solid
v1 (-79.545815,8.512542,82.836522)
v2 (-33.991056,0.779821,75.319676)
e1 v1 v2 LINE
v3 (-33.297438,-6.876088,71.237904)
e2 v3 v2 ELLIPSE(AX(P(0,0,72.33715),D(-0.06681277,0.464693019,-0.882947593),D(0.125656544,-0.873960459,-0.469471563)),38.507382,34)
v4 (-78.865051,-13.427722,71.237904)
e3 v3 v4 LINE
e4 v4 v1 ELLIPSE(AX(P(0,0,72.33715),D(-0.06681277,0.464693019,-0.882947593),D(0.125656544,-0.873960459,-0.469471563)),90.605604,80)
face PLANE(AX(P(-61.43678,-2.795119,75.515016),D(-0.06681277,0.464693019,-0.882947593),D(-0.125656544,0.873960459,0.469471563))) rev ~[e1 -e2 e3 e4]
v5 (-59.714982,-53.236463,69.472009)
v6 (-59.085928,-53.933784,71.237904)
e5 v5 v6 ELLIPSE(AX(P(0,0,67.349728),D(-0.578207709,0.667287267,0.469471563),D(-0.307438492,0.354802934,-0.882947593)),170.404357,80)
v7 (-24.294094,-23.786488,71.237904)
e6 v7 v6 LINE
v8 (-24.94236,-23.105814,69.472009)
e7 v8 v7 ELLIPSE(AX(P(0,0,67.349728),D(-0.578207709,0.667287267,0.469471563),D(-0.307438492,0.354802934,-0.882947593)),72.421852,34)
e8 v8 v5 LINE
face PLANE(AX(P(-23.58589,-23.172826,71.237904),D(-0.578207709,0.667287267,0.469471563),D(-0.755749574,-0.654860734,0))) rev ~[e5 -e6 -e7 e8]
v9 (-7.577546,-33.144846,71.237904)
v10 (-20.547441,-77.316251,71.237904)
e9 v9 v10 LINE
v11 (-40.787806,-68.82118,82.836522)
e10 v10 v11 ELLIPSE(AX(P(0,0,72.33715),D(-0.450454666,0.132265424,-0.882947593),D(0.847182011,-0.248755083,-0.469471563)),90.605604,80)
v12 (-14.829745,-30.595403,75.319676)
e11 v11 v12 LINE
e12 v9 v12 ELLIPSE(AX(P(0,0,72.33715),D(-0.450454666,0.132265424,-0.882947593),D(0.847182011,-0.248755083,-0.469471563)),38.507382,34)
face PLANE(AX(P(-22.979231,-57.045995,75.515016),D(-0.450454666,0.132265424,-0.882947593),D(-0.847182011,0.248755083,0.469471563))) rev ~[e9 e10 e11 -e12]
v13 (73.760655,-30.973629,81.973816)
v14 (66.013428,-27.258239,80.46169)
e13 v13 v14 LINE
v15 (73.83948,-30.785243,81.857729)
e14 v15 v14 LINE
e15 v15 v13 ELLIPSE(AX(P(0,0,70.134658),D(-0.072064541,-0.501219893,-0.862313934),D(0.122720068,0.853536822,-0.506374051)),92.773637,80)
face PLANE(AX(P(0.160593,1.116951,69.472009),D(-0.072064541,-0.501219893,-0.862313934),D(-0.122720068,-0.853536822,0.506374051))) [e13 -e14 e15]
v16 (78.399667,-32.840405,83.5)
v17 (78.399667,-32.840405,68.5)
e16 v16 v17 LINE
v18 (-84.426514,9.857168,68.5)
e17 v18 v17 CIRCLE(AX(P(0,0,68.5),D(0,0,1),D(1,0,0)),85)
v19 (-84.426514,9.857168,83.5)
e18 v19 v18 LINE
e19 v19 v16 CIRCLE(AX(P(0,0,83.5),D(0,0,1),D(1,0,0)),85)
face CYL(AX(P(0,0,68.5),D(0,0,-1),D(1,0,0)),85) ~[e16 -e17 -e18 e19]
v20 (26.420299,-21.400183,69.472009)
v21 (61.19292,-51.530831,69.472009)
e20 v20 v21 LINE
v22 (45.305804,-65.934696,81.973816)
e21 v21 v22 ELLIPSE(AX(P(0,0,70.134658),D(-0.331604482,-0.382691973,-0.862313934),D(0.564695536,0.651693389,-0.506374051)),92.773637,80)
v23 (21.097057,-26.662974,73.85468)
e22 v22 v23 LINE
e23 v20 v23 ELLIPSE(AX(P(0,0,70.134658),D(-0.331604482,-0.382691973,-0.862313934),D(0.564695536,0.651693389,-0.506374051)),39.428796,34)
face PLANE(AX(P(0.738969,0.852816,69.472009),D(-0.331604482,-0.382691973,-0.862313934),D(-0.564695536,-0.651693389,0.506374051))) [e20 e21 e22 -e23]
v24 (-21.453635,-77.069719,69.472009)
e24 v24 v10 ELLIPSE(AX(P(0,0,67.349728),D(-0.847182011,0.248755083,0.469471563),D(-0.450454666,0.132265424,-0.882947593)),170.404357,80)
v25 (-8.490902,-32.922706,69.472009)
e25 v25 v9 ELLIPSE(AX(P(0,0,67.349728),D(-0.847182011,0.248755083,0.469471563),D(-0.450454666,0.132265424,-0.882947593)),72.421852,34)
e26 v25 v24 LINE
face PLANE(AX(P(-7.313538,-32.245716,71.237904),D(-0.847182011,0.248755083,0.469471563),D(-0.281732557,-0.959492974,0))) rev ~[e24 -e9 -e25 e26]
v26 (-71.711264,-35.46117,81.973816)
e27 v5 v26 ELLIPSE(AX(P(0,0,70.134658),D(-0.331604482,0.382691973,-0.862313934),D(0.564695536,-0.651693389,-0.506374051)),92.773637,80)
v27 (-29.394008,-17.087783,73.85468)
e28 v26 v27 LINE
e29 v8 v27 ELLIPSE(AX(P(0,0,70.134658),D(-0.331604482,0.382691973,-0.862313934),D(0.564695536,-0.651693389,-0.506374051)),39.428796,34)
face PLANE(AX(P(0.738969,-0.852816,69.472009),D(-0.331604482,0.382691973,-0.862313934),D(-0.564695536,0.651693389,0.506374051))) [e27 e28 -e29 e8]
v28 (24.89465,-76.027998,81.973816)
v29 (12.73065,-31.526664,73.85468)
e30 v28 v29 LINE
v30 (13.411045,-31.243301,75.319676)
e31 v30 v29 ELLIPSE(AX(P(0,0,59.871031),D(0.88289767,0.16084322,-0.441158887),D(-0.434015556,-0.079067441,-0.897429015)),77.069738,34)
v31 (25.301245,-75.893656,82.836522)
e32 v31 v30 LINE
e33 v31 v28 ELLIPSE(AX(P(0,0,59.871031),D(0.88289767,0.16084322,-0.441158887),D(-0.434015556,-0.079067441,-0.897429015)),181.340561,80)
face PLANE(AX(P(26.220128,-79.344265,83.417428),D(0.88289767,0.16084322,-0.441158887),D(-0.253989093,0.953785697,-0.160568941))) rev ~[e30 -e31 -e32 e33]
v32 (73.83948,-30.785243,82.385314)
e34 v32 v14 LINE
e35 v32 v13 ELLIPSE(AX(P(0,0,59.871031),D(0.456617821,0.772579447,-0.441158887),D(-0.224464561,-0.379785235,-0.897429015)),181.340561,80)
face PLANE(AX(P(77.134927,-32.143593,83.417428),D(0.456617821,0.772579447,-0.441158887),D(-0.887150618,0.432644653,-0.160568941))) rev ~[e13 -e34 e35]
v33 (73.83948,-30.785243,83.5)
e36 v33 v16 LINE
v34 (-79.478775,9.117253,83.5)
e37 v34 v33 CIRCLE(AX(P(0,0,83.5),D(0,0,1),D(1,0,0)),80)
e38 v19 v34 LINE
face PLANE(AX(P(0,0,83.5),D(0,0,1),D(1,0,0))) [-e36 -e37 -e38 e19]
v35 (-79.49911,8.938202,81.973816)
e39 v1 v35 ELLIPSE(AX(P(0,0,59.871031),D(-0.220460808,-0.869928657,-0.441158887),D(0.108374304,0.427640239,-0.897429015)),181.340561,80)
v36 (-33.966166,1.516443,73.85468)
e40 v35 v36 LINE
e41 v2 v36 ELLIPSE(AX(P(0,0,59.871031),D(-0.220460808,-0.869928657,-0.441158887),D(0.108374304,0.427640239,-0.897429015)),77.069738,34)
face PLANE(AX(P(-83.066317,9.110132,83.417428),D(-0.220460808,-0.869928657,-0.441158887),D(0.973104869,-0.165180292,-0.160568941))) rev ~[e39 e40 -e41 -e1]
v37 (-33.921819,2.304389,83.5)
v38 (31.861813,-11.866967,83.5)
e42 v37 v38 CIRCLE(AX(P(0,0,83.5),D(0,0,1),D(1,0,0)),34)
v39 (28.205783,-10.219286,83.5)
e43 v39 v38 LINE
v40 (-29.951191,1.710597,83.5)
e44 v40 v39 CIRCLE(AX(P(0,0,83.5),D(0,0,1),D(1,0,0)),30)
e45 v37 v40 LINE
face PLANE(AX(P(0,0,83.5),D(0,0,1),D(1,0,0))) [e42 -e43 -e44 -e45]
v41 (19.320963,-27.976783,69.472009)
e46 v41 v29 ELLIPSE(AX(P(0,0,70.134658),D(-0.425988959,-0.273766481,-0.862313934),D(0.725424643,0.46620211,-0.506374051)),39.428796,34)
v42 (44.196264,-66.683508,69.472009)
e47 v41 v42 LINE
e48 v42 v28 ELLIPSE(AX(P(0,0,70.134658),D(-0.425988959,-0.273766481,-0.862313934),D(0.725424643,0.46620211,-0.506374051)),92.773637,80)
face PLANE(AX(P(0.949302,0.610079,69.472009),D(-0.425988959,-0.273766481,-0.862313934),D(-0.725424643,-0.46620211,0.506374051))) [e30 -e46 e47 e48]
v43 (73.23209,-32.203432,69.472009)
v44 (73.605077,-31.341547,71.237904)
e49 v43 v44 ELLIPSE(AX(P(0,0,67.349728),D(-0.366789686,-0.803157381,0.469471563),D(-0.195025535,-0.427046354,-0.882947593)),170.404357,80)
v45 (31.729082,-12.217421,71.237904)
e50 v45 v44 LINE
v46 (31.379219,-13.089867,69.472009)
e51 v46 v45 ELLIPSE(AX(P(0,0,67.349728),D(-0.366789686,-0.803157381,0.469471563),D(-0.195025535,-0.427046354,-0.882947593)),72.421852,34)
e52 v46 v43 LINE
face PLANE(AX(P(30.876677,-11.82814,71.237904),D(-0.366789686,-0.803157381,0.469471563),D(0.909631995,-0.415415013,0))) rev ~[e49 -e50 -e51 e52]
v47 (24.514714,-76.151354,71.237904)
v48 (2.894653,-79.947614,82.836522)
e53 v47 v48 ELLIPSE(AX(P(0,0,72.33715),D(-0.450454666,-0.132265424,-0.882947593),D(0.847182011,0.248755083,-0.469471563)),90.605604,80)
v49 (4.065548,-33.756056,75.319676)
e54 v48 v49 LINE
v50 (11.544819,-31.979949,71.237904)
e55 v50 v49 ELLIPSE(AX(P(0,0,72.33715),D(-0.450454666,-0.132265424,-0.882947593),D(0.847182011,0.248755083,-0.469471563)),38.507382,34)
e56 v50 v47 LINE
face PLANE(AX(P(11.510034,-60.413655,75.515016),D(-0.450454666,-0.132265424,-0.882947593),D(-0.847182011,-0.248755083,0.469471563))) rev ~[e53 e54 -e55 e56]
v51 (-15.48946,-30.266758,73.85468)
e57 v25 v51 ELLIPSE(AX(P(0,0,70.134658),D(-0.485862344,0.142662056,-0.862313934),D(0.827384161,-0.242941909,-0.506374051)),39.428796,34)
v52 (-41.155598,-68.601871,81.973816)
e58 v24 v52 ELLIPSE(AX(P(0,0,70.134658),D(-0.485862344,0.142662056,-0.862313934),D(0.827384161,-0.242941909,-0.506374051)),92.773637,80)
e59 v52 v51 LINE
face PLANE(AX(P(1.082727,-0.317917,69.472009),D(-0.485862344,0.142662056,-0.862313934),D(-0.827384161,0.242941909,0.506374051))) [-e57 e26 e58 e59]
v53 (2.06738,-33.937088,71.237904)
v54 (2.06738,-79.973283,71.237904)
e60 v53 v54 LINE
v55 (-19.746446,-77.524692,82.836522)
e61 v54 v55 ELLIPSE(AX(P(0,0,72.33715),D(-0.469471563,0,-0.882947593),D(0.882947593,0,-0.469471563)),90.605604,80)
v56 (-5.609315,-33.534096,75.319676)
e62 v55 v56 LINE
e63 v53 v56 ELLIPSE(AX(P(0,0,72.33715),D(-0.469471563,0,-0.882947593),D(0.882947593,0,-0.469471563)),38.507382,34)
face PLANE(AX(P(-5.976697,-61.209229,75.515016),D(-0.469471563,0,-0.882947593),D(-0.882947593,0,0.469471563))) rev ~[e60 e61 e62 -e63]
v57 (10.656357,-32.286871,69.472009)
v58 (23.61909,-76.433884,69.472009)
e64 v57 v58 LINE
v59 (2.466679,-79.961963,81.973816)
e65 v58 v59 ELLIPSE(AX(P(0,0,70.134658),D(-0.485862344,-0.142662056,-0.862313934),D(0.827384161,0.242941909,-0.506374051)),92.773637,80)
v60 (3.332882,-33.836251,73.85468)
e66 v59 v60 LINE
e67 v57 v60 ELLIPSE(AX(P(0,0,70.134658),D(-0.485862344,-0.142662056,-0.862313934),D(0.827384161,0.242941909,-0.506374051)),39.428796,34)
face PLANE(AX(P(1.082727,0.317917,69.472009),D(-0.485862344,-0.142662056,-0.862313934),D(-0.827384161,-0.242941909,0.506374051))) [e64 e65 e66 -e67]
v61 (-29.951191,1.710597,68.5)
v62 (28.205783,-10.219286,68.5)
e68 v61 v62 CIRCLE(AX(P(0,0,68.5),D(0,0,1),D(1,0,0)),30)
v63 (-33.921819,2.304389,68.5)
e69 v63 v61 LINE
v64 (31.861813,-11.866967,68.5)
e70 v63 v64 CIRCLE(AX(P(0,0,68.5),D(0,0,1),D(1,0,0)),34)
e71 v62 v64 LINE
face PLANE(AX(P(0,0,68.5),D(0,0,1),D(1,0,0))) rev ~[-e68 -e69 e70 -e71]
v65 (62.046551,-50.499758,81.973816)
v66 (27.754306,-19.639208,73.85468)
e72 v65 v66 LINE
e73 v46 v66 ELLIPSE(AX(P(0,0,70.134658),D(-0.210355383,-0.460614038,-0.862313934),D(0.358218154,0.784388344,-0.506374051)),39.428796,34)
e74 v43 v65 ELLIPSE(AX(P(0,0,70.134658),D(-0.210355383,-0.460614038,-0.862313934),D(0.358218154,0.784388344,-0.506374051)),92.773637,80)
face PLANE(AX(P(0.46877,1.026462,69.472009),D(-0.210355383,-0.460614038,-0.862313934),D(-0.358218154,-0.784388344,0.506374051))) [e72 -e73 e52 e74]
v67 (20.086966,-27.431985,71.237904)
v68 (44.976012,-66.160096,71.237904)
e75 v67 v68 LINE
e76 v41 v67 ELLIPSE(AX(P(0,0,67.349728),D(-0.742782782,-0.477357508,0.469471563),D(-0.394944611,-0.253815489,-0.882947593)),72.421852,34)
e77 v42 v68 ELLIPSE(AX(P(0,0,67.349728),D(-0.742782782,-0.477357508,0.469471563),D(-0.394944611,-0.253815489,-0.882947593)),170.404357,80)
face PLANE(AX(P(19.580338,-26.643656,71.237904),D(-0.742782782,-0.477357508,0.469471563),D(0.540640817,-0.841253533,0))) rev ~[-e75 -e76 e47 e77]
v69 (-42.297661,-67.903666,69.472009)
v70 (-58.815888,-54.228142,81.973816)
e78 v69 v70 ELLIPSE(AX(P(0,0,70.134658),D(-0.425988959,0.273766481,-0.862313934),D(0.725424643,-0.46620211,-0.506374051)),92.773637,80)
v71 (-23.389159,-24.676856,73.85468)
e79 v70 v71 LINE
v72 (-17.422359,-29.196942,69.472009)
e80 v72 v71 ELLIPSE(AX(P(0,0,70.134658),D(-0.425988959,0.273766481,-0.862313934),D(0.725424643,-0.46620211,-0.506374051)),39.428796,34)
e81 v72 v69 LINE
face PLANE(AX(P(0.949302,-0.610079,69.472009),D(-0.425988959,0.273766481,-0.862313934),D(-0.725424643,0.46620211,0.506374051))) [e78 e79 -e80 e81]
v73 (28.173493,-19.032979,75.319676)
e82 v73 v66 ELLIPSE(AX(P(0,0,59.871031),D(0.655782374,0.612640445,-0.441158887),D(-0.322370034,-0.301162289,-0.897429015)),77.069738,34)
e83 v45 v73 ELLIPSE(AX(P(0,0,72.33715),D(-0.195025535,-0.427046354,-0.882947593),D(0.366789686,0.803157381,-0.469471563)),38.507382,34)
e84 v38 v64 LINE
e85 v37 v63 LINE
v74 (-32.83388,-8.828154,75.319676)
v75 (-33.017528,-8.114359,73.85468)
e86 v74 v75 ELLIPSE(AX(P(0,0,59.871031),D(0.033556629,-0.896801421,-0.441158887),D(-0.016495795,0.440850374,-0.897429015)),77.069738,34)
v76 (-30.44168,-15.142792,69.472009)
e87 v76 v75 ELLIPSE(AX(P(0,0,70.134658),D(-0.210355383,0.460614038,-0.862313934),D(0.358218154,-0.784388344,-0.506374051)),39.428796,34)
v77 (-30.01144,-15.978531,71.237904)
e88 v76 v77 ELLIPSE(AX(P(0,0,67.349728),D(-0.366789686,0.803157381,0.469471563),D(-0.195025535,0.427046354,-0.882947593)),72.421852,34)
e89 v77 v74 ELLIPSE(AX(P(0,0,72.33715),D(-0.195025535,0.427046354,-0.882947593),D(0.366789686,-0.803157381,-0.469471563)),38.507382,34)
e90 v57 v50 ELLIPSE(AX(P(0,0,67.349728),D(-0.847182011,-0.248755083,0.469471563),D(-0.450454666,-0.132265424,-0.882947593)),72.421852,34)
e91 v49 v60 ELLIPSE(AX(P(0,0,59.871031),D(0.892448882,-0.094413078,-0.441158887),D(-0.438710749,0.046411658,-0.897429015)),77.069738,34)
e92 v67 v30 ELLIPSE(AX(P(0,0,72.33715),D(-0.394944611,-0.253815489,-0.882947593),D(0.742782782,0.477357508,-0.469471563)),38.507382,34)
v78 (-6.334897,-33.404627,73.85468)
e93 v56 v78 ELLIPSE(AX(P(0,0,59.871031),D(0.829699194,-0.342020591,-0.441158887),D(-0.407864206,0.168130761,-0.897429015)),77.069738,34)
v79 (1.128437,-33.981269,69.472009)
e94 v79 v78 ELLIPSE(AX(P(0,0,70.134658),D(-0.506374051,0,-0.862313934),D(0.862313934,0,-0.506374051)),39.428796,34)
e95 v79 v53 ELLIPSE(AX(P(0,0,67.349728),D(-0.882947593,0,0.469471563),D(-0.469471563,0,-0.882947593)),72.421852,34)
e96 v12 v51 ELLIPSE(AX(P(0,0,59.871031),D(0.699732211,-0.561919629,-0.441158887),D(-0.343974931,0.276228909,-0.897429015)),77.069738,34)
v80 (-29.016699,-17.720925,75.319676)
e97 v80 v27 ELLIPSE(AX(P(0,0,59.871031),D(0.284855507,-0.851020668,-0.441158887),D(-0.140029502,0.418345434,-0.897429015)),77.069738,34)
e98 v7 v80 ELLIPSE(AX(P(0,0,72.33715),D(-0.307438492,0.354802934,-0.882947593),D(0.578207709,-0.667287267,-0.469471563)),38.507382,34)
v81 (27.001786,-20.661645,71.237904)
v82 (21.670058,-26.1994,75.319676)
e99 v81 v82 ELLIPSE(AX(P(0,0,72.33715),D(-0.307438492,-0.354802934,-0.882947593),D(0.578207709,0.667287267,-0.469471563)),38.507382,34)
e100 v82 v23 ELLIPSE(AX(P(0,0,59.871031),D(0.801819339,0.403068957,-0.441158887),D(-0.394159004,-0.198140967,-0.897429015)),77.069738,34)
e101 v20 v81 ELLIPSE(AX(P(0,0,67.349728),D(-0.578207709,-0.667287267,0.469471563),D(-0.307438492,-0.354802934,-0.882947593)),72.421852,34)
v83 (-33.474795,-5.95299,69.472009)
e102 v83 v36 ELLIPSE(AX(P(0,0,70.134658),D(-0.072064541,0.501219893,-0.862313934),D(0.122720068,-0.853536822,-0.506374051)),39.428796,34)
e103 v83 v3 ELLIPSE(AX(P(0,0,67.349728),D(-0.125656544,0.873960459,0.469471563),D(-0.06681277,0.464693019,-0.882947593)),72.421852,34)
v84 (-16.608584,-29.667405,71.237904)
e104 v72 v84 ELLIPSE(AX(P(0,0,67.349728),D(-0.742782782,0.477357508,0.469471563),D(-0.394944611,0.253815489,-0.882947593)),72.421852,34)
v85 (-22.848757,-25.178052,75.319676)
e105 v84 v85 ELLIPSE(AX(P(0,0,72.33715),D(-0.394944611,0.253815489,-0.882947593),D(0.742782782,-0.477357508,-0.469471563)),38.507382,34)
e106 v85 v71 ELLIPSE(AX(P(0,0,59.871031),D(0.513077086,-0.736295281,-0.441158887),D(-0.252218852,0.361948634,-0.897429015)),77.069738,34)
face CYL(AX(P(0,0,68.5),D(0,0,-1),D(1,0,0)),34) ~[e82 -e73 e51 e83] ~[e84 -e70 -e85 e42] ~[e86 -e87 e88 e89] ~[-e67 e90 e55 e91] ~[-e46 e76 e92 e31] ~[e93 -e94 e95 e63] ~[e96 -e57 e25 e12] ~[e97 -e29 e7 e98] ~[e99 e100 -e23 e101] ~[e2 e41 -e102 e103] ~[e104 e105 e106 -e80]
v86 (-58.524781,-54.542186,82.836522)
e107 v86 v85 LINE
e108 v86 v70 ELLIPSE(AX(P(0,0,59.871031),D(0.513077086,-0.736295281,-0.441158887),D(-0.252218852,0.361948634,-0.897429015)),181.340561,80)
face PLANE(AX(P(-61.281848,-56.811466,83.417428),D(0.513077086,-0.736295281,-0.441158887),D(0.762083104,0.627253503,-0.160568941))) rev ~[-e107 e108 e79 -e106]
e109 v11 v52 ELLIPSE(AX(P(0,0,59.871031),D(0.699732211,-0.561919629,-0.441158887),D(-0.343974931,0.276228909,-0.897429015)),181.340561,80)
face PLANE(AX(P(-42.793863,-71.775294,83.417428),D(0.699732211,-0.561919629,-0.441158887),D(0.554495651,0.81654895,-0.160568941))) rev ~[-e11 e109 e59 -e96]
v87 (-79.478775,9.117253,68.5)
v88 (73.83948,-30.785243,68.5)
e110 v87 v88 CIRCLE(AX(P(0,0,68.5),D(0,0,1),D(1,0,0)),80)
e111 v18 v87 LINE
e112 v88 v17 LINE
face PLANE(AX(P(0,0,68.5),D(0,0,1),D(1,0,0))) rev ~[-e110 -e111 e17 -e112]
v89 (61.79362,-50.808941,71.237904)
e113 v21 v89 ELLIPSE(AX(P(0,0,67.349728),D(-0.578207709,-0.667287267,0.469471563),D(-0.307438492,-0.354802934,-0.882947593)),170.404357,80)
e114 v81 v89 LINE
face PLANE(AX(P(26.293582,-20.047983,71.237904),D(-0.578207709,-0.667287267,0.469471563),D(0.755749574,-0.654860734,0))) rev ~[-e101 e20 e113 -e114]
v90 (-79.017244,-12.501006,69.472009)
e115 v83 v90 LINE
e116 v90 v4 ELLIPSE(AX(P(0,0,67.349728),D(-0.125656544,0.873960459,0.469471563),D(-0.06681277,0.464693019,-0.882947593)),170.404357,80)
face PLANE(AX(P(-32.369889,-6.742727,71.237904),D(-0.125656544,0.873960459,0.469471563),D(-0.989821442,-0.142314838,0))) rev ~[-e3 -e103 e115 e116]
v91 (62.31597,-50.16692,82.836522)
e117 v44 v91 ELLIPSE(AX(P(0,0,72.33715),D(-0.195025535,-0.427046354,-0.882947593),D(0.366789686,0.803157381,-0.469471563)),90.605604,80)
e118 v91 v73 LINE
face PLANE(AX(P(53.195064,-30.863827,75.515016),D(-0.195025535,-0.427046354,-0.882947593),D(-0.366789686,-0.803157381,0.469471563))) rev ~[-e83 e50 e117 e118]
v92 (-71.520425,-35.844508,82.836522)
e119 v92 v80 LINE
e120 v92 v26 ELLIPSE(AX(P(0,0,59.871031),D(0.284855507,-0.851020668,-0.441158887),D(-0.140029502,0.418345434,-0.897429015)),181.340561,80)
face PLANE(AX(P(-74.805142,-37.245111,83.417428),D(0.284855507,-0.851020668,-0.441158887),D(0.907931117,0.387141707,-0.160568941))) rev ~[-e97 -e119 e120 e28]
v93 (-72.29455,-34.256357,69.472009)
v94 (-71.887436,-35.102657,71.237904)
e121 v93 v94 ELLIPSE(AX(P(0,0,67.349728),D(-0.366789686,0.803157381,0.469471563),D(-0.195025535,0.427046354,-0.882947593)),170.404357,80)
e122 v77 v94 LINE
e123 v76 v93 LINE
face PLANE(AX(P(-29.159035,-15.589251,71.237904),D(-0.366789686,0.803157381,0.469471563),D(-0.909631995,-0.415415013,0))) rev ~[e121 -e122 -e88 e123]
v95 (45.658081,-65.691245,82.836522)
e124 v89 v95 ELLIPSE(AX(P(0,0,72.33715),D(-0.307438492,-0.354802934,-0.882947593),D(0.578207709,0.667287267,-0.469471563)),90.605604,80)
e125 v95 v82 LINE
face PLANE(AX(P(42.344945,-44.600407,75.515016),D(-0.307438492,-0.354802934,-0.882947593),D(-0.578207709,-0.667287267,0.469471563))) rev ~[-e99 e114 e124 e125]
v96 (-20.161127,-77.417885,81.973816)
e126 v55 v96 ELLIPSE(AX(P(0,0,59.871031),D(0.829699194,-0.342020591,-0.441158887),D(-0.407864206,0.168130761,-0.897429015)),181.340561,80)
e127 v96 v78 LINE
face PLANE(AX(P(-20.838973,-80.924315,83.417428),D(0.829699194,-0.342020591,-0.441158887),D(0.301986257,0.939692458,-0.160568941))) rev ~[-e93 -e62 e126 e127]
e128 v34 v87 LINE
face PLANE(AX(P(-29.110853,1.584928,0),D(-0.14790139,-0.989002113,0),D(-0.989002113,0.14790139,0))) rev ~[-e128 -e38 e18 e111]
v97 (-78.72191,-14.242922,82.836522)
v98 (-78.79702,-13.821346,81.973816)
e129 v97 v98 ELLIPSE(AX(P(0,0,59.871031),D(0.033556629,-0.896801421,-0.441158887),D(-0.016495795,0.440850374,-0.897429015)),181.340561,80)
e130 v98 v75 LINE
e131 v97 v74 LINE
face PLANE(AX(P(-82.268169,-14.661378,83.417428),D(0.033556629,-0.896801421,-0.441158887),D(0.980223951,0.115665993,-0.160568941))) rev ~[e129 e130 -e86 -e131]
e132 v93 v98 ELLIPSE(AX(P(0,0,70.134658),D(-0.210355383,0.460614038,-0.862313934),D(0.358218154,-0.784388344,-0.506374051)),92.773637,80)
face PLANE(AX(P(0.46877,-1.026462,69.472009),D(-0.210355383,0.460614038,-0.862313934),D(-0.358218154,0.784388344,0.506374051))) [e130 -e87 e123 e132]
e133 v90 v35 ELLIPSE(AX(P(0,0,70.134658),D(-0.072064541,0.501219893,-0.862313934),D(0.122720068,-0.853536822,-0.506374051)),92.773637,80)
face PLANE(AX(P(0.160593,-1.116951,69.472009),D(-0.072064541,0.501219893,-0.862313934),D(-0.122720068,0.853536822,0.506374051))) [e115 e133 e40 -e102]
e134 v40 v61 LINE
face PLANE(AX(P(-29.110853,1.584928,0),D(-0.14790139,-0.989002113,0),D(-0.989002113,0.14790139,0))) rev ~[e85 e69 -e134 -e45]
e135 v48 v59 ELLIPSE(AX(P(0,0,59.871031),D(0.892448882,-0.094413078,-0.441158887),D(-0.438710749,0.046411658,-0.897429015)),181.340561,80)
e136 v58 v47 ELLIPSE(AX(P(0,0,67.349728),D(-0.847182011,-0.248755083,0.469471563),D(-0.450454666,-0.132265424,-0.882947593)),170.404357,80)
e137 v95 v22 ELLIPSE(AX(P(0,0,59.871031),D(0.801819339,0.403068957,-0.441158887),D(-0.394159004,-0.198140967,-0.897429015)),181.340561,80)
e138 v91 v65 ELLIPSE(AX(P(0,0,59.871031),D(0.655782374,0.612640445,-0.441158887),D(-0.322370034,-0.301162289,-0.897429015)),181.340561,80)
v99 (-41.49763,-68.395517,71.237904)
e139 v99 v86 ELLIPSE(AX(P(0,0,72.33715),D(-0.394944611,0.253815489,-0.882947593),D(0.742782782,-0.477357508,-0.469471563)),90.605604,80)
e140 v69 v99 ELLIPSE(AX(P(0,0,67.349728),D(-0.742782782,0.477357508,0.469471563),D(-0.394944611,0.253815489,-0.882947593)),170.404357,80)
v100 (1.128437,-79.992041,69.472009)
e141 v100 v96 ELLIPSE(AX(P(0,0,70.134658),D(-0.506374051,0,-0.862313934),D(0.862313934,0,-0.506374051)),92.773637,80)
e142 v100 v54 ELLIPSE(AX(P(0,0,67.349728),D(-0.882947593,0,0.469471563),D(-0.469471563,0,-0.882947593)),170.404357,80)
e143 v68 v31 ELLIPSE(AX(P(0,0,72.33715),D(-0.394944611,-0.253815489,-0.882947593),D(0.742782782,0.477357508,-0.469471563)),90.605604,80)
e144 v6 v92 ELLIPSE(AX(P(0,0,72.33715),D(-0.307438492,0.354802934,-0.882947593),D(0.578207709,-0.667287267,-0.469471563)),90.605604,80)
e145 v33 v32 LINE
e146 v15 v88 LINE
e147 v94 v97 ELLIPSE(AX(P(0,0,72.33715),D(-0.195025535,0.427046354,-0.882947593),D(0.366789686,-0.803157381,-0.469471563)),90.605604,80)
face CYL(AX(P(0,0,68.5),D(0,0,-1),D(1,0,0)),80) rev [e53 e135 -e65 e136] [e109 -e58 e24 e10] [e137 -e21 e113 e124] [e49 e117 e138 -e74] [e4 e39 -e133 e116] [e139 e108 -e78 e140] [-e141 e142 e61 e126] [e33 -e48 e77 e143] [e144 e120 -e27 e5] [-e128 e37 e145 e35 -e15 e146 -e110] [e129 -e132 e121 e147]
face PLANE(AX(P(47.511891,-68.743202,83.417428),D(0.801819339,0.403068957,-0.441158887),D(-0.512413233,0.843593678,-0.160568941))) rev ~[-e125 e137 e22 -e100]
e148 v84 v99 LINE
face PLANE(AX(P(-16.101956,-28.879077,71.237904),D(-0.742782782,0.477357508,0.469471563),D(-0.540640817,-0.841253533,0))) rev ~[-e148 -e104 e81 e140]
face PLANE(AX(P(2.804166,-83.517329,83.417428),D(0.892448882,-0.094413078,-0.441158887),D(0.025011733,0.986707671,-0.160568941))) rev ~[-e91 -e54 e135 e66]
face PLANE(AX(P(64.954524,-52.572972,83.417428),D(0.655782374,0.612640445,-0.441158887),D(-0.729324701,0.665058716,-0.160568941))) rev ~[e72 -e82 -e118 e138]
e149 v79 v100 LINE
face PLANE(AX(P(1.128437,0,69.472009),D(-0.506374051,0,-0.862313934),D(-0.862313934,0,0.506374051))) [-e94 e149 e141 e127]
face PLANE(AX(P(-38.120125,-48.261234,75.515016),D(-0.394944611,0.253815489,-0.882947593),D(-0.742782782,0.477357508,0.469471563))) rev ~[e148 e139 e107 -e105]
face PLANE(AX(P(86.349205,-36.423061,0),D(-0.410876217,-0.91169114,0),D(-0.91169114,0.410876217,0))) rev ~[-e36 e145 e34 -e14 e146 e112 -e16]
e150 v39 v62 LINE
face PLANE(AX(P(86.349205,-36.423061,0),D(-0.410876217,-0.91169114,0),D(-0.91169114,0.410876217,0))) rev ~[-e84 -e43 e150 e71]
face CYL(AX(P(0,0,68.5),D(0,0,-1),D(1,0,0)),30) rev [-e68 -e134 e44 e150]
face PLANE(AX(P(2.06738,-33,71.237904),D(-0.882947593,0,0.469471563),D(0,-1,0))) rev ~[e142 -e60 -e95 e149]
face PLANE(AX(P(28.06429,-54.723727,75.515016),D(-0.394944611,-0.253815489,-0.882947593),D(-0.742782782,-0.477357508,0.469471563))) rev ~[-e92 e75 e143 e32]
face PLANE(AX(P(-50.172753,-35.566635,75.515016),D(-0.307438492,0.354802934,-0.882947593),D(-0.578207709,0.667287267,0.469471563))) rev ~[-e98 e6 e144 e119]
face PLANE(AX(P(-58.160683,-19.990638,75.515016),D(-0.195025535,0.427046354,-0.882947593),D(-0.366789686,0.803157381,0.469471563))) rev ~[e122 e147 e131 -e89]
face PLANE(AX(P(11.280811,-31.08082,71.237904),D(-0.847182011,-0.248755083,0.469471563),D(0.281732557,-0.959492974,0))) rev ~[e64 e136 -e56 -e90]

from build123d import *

# Parameters (mm, degrees)
PAD036_DEPTH              = 200
TUBE014_R                 = 100
TUBE014_R_2               = 80
TUBE014_DEPTH             = 200
PAD026_DEPTH              = 100
PAD027_DEPTH              = 2
COMMON011_PLACEMENT_ANGLE = 28
ARRAY011_COUNT            = 22
ARRAY011_PLACEMENT_ANGLE  = 180
TUBE023_R                 = 85
TUBE023_R_2               = 80
TUBE023_DEPTH             = 15
TUBE024_R                 = 34
TUBE024_R_2               = 30
TUBE024_DEPTH             = 15


with BuildPart() as body037:
    # Sketch036 → Pad036 (new body)
    with BuildSketch(Plane.XY):
        Polygon((-29.110853, 1.584928), (-96.197479, 11.61747), (-96.197479, -126.516327), (86.349205, -133.978043), (86.349205, -36.423061), (25.978256, -9.215396), align=None)
    extrude(amount=PAD036_DEPTH)


with BuildPart() as tube014:
    # Tube014 → Tube014 (new body)
    with BuildSketch(Plane.XY):
        Circle(TUBE014_R)
        Circle(TUBE014_R_2, mode=Mode.SUBTRACT)
    extrude(amount=TUBE014_DEPTH)


with BuildPart() as body027:
    # Sketch026 → Pad026 (new body)
    with BuildSketch(Plane.XZ):
        Polygon((0, 0), (0, 2), (26, 0.9), (26, 0), align=None)
    extrude(amount=PAD026_DEPTH)


with BuildPart() as body027_1:
    # Body027 placement: moved
    add(body027.part.moved(Location((-5, 0, 5))))


with BuildPart() as cut003:
    # Sketch027 → Pad027 (new body)
    with BuildSketch(Plane.XY):
        Polygon((0, 0), (0, -52), (25.94305, -47.924315), (8.5, 0), align=None)
    extrude(amount=PAD027_DEPTH)


with BuildPart() as cut003_1:
    # Body028 placement: moved
    add(cut003.part.moved(Location((-5, -33, 5))))

    # Common011: intersect Body027
    add(body027_1.part, mode=Mode.INTERSECT)


with BuildPart() as cut003_2:
    # Common011 placement: moved
    add(cut003_1.part.rotate(Axis((0, 0, 0), (0, 1, 0)), COMMON011_PLACEMENT_ANGLE))

    # Array011: Cut003 ×22 about axis
    array011_axis = Axis((0, 0, 0), (0, 0, 1))


with BuildPart() as cut003_3:
    add(cut003_2.part)
    for i in range(1, ARRAY011_COUNT):
        add(cut003_2.part.rotate(array011_axis, i * 360 / ARRAY011_COUNT))


with BuildPart() as cut003_4:
    # Array011 placement: moved
    add(cut003_3.part.moved(Location((0, 0, 78))).rotate(Axis((0, 0, 78), (0, 1, 0)), ARRAY011_PLACEMENT_ANGLE))

    # Cut003: cut Tube014
    add(tube014.part, mode=Mode.SUBTRACT)


with BuildPart() as tube023:
    # Tube023 → Tube023 (new body)
    with BuildSketch(Plane.XY.offset(68.5)):
        Circle(TUBE023_R)
        Circle(TUBE023_R_2, mode=Mode.SUBTRACT)
    extrude(amount=TUBE023_DEPTH)


with BuildPart() as stator2h1:
    # Tube024 → Tube024 (new body)
    with BuildSketch(Plane.XY.offset(68.5)):
        Circle(TUBE024_R)
        Circle(TUBE024_R_2, mode=Mode.SUBTRACT)
    extrude(amount=TUBE024_DEPTH)

    # Fusion011: union Cut003, Tube023
    add(cut003_4.part)
    add(tube023.part)

    # Common019: intersect Body037
    add(body037.part, mode=Mode.INTERSECT)


solid = stator2h1.part
